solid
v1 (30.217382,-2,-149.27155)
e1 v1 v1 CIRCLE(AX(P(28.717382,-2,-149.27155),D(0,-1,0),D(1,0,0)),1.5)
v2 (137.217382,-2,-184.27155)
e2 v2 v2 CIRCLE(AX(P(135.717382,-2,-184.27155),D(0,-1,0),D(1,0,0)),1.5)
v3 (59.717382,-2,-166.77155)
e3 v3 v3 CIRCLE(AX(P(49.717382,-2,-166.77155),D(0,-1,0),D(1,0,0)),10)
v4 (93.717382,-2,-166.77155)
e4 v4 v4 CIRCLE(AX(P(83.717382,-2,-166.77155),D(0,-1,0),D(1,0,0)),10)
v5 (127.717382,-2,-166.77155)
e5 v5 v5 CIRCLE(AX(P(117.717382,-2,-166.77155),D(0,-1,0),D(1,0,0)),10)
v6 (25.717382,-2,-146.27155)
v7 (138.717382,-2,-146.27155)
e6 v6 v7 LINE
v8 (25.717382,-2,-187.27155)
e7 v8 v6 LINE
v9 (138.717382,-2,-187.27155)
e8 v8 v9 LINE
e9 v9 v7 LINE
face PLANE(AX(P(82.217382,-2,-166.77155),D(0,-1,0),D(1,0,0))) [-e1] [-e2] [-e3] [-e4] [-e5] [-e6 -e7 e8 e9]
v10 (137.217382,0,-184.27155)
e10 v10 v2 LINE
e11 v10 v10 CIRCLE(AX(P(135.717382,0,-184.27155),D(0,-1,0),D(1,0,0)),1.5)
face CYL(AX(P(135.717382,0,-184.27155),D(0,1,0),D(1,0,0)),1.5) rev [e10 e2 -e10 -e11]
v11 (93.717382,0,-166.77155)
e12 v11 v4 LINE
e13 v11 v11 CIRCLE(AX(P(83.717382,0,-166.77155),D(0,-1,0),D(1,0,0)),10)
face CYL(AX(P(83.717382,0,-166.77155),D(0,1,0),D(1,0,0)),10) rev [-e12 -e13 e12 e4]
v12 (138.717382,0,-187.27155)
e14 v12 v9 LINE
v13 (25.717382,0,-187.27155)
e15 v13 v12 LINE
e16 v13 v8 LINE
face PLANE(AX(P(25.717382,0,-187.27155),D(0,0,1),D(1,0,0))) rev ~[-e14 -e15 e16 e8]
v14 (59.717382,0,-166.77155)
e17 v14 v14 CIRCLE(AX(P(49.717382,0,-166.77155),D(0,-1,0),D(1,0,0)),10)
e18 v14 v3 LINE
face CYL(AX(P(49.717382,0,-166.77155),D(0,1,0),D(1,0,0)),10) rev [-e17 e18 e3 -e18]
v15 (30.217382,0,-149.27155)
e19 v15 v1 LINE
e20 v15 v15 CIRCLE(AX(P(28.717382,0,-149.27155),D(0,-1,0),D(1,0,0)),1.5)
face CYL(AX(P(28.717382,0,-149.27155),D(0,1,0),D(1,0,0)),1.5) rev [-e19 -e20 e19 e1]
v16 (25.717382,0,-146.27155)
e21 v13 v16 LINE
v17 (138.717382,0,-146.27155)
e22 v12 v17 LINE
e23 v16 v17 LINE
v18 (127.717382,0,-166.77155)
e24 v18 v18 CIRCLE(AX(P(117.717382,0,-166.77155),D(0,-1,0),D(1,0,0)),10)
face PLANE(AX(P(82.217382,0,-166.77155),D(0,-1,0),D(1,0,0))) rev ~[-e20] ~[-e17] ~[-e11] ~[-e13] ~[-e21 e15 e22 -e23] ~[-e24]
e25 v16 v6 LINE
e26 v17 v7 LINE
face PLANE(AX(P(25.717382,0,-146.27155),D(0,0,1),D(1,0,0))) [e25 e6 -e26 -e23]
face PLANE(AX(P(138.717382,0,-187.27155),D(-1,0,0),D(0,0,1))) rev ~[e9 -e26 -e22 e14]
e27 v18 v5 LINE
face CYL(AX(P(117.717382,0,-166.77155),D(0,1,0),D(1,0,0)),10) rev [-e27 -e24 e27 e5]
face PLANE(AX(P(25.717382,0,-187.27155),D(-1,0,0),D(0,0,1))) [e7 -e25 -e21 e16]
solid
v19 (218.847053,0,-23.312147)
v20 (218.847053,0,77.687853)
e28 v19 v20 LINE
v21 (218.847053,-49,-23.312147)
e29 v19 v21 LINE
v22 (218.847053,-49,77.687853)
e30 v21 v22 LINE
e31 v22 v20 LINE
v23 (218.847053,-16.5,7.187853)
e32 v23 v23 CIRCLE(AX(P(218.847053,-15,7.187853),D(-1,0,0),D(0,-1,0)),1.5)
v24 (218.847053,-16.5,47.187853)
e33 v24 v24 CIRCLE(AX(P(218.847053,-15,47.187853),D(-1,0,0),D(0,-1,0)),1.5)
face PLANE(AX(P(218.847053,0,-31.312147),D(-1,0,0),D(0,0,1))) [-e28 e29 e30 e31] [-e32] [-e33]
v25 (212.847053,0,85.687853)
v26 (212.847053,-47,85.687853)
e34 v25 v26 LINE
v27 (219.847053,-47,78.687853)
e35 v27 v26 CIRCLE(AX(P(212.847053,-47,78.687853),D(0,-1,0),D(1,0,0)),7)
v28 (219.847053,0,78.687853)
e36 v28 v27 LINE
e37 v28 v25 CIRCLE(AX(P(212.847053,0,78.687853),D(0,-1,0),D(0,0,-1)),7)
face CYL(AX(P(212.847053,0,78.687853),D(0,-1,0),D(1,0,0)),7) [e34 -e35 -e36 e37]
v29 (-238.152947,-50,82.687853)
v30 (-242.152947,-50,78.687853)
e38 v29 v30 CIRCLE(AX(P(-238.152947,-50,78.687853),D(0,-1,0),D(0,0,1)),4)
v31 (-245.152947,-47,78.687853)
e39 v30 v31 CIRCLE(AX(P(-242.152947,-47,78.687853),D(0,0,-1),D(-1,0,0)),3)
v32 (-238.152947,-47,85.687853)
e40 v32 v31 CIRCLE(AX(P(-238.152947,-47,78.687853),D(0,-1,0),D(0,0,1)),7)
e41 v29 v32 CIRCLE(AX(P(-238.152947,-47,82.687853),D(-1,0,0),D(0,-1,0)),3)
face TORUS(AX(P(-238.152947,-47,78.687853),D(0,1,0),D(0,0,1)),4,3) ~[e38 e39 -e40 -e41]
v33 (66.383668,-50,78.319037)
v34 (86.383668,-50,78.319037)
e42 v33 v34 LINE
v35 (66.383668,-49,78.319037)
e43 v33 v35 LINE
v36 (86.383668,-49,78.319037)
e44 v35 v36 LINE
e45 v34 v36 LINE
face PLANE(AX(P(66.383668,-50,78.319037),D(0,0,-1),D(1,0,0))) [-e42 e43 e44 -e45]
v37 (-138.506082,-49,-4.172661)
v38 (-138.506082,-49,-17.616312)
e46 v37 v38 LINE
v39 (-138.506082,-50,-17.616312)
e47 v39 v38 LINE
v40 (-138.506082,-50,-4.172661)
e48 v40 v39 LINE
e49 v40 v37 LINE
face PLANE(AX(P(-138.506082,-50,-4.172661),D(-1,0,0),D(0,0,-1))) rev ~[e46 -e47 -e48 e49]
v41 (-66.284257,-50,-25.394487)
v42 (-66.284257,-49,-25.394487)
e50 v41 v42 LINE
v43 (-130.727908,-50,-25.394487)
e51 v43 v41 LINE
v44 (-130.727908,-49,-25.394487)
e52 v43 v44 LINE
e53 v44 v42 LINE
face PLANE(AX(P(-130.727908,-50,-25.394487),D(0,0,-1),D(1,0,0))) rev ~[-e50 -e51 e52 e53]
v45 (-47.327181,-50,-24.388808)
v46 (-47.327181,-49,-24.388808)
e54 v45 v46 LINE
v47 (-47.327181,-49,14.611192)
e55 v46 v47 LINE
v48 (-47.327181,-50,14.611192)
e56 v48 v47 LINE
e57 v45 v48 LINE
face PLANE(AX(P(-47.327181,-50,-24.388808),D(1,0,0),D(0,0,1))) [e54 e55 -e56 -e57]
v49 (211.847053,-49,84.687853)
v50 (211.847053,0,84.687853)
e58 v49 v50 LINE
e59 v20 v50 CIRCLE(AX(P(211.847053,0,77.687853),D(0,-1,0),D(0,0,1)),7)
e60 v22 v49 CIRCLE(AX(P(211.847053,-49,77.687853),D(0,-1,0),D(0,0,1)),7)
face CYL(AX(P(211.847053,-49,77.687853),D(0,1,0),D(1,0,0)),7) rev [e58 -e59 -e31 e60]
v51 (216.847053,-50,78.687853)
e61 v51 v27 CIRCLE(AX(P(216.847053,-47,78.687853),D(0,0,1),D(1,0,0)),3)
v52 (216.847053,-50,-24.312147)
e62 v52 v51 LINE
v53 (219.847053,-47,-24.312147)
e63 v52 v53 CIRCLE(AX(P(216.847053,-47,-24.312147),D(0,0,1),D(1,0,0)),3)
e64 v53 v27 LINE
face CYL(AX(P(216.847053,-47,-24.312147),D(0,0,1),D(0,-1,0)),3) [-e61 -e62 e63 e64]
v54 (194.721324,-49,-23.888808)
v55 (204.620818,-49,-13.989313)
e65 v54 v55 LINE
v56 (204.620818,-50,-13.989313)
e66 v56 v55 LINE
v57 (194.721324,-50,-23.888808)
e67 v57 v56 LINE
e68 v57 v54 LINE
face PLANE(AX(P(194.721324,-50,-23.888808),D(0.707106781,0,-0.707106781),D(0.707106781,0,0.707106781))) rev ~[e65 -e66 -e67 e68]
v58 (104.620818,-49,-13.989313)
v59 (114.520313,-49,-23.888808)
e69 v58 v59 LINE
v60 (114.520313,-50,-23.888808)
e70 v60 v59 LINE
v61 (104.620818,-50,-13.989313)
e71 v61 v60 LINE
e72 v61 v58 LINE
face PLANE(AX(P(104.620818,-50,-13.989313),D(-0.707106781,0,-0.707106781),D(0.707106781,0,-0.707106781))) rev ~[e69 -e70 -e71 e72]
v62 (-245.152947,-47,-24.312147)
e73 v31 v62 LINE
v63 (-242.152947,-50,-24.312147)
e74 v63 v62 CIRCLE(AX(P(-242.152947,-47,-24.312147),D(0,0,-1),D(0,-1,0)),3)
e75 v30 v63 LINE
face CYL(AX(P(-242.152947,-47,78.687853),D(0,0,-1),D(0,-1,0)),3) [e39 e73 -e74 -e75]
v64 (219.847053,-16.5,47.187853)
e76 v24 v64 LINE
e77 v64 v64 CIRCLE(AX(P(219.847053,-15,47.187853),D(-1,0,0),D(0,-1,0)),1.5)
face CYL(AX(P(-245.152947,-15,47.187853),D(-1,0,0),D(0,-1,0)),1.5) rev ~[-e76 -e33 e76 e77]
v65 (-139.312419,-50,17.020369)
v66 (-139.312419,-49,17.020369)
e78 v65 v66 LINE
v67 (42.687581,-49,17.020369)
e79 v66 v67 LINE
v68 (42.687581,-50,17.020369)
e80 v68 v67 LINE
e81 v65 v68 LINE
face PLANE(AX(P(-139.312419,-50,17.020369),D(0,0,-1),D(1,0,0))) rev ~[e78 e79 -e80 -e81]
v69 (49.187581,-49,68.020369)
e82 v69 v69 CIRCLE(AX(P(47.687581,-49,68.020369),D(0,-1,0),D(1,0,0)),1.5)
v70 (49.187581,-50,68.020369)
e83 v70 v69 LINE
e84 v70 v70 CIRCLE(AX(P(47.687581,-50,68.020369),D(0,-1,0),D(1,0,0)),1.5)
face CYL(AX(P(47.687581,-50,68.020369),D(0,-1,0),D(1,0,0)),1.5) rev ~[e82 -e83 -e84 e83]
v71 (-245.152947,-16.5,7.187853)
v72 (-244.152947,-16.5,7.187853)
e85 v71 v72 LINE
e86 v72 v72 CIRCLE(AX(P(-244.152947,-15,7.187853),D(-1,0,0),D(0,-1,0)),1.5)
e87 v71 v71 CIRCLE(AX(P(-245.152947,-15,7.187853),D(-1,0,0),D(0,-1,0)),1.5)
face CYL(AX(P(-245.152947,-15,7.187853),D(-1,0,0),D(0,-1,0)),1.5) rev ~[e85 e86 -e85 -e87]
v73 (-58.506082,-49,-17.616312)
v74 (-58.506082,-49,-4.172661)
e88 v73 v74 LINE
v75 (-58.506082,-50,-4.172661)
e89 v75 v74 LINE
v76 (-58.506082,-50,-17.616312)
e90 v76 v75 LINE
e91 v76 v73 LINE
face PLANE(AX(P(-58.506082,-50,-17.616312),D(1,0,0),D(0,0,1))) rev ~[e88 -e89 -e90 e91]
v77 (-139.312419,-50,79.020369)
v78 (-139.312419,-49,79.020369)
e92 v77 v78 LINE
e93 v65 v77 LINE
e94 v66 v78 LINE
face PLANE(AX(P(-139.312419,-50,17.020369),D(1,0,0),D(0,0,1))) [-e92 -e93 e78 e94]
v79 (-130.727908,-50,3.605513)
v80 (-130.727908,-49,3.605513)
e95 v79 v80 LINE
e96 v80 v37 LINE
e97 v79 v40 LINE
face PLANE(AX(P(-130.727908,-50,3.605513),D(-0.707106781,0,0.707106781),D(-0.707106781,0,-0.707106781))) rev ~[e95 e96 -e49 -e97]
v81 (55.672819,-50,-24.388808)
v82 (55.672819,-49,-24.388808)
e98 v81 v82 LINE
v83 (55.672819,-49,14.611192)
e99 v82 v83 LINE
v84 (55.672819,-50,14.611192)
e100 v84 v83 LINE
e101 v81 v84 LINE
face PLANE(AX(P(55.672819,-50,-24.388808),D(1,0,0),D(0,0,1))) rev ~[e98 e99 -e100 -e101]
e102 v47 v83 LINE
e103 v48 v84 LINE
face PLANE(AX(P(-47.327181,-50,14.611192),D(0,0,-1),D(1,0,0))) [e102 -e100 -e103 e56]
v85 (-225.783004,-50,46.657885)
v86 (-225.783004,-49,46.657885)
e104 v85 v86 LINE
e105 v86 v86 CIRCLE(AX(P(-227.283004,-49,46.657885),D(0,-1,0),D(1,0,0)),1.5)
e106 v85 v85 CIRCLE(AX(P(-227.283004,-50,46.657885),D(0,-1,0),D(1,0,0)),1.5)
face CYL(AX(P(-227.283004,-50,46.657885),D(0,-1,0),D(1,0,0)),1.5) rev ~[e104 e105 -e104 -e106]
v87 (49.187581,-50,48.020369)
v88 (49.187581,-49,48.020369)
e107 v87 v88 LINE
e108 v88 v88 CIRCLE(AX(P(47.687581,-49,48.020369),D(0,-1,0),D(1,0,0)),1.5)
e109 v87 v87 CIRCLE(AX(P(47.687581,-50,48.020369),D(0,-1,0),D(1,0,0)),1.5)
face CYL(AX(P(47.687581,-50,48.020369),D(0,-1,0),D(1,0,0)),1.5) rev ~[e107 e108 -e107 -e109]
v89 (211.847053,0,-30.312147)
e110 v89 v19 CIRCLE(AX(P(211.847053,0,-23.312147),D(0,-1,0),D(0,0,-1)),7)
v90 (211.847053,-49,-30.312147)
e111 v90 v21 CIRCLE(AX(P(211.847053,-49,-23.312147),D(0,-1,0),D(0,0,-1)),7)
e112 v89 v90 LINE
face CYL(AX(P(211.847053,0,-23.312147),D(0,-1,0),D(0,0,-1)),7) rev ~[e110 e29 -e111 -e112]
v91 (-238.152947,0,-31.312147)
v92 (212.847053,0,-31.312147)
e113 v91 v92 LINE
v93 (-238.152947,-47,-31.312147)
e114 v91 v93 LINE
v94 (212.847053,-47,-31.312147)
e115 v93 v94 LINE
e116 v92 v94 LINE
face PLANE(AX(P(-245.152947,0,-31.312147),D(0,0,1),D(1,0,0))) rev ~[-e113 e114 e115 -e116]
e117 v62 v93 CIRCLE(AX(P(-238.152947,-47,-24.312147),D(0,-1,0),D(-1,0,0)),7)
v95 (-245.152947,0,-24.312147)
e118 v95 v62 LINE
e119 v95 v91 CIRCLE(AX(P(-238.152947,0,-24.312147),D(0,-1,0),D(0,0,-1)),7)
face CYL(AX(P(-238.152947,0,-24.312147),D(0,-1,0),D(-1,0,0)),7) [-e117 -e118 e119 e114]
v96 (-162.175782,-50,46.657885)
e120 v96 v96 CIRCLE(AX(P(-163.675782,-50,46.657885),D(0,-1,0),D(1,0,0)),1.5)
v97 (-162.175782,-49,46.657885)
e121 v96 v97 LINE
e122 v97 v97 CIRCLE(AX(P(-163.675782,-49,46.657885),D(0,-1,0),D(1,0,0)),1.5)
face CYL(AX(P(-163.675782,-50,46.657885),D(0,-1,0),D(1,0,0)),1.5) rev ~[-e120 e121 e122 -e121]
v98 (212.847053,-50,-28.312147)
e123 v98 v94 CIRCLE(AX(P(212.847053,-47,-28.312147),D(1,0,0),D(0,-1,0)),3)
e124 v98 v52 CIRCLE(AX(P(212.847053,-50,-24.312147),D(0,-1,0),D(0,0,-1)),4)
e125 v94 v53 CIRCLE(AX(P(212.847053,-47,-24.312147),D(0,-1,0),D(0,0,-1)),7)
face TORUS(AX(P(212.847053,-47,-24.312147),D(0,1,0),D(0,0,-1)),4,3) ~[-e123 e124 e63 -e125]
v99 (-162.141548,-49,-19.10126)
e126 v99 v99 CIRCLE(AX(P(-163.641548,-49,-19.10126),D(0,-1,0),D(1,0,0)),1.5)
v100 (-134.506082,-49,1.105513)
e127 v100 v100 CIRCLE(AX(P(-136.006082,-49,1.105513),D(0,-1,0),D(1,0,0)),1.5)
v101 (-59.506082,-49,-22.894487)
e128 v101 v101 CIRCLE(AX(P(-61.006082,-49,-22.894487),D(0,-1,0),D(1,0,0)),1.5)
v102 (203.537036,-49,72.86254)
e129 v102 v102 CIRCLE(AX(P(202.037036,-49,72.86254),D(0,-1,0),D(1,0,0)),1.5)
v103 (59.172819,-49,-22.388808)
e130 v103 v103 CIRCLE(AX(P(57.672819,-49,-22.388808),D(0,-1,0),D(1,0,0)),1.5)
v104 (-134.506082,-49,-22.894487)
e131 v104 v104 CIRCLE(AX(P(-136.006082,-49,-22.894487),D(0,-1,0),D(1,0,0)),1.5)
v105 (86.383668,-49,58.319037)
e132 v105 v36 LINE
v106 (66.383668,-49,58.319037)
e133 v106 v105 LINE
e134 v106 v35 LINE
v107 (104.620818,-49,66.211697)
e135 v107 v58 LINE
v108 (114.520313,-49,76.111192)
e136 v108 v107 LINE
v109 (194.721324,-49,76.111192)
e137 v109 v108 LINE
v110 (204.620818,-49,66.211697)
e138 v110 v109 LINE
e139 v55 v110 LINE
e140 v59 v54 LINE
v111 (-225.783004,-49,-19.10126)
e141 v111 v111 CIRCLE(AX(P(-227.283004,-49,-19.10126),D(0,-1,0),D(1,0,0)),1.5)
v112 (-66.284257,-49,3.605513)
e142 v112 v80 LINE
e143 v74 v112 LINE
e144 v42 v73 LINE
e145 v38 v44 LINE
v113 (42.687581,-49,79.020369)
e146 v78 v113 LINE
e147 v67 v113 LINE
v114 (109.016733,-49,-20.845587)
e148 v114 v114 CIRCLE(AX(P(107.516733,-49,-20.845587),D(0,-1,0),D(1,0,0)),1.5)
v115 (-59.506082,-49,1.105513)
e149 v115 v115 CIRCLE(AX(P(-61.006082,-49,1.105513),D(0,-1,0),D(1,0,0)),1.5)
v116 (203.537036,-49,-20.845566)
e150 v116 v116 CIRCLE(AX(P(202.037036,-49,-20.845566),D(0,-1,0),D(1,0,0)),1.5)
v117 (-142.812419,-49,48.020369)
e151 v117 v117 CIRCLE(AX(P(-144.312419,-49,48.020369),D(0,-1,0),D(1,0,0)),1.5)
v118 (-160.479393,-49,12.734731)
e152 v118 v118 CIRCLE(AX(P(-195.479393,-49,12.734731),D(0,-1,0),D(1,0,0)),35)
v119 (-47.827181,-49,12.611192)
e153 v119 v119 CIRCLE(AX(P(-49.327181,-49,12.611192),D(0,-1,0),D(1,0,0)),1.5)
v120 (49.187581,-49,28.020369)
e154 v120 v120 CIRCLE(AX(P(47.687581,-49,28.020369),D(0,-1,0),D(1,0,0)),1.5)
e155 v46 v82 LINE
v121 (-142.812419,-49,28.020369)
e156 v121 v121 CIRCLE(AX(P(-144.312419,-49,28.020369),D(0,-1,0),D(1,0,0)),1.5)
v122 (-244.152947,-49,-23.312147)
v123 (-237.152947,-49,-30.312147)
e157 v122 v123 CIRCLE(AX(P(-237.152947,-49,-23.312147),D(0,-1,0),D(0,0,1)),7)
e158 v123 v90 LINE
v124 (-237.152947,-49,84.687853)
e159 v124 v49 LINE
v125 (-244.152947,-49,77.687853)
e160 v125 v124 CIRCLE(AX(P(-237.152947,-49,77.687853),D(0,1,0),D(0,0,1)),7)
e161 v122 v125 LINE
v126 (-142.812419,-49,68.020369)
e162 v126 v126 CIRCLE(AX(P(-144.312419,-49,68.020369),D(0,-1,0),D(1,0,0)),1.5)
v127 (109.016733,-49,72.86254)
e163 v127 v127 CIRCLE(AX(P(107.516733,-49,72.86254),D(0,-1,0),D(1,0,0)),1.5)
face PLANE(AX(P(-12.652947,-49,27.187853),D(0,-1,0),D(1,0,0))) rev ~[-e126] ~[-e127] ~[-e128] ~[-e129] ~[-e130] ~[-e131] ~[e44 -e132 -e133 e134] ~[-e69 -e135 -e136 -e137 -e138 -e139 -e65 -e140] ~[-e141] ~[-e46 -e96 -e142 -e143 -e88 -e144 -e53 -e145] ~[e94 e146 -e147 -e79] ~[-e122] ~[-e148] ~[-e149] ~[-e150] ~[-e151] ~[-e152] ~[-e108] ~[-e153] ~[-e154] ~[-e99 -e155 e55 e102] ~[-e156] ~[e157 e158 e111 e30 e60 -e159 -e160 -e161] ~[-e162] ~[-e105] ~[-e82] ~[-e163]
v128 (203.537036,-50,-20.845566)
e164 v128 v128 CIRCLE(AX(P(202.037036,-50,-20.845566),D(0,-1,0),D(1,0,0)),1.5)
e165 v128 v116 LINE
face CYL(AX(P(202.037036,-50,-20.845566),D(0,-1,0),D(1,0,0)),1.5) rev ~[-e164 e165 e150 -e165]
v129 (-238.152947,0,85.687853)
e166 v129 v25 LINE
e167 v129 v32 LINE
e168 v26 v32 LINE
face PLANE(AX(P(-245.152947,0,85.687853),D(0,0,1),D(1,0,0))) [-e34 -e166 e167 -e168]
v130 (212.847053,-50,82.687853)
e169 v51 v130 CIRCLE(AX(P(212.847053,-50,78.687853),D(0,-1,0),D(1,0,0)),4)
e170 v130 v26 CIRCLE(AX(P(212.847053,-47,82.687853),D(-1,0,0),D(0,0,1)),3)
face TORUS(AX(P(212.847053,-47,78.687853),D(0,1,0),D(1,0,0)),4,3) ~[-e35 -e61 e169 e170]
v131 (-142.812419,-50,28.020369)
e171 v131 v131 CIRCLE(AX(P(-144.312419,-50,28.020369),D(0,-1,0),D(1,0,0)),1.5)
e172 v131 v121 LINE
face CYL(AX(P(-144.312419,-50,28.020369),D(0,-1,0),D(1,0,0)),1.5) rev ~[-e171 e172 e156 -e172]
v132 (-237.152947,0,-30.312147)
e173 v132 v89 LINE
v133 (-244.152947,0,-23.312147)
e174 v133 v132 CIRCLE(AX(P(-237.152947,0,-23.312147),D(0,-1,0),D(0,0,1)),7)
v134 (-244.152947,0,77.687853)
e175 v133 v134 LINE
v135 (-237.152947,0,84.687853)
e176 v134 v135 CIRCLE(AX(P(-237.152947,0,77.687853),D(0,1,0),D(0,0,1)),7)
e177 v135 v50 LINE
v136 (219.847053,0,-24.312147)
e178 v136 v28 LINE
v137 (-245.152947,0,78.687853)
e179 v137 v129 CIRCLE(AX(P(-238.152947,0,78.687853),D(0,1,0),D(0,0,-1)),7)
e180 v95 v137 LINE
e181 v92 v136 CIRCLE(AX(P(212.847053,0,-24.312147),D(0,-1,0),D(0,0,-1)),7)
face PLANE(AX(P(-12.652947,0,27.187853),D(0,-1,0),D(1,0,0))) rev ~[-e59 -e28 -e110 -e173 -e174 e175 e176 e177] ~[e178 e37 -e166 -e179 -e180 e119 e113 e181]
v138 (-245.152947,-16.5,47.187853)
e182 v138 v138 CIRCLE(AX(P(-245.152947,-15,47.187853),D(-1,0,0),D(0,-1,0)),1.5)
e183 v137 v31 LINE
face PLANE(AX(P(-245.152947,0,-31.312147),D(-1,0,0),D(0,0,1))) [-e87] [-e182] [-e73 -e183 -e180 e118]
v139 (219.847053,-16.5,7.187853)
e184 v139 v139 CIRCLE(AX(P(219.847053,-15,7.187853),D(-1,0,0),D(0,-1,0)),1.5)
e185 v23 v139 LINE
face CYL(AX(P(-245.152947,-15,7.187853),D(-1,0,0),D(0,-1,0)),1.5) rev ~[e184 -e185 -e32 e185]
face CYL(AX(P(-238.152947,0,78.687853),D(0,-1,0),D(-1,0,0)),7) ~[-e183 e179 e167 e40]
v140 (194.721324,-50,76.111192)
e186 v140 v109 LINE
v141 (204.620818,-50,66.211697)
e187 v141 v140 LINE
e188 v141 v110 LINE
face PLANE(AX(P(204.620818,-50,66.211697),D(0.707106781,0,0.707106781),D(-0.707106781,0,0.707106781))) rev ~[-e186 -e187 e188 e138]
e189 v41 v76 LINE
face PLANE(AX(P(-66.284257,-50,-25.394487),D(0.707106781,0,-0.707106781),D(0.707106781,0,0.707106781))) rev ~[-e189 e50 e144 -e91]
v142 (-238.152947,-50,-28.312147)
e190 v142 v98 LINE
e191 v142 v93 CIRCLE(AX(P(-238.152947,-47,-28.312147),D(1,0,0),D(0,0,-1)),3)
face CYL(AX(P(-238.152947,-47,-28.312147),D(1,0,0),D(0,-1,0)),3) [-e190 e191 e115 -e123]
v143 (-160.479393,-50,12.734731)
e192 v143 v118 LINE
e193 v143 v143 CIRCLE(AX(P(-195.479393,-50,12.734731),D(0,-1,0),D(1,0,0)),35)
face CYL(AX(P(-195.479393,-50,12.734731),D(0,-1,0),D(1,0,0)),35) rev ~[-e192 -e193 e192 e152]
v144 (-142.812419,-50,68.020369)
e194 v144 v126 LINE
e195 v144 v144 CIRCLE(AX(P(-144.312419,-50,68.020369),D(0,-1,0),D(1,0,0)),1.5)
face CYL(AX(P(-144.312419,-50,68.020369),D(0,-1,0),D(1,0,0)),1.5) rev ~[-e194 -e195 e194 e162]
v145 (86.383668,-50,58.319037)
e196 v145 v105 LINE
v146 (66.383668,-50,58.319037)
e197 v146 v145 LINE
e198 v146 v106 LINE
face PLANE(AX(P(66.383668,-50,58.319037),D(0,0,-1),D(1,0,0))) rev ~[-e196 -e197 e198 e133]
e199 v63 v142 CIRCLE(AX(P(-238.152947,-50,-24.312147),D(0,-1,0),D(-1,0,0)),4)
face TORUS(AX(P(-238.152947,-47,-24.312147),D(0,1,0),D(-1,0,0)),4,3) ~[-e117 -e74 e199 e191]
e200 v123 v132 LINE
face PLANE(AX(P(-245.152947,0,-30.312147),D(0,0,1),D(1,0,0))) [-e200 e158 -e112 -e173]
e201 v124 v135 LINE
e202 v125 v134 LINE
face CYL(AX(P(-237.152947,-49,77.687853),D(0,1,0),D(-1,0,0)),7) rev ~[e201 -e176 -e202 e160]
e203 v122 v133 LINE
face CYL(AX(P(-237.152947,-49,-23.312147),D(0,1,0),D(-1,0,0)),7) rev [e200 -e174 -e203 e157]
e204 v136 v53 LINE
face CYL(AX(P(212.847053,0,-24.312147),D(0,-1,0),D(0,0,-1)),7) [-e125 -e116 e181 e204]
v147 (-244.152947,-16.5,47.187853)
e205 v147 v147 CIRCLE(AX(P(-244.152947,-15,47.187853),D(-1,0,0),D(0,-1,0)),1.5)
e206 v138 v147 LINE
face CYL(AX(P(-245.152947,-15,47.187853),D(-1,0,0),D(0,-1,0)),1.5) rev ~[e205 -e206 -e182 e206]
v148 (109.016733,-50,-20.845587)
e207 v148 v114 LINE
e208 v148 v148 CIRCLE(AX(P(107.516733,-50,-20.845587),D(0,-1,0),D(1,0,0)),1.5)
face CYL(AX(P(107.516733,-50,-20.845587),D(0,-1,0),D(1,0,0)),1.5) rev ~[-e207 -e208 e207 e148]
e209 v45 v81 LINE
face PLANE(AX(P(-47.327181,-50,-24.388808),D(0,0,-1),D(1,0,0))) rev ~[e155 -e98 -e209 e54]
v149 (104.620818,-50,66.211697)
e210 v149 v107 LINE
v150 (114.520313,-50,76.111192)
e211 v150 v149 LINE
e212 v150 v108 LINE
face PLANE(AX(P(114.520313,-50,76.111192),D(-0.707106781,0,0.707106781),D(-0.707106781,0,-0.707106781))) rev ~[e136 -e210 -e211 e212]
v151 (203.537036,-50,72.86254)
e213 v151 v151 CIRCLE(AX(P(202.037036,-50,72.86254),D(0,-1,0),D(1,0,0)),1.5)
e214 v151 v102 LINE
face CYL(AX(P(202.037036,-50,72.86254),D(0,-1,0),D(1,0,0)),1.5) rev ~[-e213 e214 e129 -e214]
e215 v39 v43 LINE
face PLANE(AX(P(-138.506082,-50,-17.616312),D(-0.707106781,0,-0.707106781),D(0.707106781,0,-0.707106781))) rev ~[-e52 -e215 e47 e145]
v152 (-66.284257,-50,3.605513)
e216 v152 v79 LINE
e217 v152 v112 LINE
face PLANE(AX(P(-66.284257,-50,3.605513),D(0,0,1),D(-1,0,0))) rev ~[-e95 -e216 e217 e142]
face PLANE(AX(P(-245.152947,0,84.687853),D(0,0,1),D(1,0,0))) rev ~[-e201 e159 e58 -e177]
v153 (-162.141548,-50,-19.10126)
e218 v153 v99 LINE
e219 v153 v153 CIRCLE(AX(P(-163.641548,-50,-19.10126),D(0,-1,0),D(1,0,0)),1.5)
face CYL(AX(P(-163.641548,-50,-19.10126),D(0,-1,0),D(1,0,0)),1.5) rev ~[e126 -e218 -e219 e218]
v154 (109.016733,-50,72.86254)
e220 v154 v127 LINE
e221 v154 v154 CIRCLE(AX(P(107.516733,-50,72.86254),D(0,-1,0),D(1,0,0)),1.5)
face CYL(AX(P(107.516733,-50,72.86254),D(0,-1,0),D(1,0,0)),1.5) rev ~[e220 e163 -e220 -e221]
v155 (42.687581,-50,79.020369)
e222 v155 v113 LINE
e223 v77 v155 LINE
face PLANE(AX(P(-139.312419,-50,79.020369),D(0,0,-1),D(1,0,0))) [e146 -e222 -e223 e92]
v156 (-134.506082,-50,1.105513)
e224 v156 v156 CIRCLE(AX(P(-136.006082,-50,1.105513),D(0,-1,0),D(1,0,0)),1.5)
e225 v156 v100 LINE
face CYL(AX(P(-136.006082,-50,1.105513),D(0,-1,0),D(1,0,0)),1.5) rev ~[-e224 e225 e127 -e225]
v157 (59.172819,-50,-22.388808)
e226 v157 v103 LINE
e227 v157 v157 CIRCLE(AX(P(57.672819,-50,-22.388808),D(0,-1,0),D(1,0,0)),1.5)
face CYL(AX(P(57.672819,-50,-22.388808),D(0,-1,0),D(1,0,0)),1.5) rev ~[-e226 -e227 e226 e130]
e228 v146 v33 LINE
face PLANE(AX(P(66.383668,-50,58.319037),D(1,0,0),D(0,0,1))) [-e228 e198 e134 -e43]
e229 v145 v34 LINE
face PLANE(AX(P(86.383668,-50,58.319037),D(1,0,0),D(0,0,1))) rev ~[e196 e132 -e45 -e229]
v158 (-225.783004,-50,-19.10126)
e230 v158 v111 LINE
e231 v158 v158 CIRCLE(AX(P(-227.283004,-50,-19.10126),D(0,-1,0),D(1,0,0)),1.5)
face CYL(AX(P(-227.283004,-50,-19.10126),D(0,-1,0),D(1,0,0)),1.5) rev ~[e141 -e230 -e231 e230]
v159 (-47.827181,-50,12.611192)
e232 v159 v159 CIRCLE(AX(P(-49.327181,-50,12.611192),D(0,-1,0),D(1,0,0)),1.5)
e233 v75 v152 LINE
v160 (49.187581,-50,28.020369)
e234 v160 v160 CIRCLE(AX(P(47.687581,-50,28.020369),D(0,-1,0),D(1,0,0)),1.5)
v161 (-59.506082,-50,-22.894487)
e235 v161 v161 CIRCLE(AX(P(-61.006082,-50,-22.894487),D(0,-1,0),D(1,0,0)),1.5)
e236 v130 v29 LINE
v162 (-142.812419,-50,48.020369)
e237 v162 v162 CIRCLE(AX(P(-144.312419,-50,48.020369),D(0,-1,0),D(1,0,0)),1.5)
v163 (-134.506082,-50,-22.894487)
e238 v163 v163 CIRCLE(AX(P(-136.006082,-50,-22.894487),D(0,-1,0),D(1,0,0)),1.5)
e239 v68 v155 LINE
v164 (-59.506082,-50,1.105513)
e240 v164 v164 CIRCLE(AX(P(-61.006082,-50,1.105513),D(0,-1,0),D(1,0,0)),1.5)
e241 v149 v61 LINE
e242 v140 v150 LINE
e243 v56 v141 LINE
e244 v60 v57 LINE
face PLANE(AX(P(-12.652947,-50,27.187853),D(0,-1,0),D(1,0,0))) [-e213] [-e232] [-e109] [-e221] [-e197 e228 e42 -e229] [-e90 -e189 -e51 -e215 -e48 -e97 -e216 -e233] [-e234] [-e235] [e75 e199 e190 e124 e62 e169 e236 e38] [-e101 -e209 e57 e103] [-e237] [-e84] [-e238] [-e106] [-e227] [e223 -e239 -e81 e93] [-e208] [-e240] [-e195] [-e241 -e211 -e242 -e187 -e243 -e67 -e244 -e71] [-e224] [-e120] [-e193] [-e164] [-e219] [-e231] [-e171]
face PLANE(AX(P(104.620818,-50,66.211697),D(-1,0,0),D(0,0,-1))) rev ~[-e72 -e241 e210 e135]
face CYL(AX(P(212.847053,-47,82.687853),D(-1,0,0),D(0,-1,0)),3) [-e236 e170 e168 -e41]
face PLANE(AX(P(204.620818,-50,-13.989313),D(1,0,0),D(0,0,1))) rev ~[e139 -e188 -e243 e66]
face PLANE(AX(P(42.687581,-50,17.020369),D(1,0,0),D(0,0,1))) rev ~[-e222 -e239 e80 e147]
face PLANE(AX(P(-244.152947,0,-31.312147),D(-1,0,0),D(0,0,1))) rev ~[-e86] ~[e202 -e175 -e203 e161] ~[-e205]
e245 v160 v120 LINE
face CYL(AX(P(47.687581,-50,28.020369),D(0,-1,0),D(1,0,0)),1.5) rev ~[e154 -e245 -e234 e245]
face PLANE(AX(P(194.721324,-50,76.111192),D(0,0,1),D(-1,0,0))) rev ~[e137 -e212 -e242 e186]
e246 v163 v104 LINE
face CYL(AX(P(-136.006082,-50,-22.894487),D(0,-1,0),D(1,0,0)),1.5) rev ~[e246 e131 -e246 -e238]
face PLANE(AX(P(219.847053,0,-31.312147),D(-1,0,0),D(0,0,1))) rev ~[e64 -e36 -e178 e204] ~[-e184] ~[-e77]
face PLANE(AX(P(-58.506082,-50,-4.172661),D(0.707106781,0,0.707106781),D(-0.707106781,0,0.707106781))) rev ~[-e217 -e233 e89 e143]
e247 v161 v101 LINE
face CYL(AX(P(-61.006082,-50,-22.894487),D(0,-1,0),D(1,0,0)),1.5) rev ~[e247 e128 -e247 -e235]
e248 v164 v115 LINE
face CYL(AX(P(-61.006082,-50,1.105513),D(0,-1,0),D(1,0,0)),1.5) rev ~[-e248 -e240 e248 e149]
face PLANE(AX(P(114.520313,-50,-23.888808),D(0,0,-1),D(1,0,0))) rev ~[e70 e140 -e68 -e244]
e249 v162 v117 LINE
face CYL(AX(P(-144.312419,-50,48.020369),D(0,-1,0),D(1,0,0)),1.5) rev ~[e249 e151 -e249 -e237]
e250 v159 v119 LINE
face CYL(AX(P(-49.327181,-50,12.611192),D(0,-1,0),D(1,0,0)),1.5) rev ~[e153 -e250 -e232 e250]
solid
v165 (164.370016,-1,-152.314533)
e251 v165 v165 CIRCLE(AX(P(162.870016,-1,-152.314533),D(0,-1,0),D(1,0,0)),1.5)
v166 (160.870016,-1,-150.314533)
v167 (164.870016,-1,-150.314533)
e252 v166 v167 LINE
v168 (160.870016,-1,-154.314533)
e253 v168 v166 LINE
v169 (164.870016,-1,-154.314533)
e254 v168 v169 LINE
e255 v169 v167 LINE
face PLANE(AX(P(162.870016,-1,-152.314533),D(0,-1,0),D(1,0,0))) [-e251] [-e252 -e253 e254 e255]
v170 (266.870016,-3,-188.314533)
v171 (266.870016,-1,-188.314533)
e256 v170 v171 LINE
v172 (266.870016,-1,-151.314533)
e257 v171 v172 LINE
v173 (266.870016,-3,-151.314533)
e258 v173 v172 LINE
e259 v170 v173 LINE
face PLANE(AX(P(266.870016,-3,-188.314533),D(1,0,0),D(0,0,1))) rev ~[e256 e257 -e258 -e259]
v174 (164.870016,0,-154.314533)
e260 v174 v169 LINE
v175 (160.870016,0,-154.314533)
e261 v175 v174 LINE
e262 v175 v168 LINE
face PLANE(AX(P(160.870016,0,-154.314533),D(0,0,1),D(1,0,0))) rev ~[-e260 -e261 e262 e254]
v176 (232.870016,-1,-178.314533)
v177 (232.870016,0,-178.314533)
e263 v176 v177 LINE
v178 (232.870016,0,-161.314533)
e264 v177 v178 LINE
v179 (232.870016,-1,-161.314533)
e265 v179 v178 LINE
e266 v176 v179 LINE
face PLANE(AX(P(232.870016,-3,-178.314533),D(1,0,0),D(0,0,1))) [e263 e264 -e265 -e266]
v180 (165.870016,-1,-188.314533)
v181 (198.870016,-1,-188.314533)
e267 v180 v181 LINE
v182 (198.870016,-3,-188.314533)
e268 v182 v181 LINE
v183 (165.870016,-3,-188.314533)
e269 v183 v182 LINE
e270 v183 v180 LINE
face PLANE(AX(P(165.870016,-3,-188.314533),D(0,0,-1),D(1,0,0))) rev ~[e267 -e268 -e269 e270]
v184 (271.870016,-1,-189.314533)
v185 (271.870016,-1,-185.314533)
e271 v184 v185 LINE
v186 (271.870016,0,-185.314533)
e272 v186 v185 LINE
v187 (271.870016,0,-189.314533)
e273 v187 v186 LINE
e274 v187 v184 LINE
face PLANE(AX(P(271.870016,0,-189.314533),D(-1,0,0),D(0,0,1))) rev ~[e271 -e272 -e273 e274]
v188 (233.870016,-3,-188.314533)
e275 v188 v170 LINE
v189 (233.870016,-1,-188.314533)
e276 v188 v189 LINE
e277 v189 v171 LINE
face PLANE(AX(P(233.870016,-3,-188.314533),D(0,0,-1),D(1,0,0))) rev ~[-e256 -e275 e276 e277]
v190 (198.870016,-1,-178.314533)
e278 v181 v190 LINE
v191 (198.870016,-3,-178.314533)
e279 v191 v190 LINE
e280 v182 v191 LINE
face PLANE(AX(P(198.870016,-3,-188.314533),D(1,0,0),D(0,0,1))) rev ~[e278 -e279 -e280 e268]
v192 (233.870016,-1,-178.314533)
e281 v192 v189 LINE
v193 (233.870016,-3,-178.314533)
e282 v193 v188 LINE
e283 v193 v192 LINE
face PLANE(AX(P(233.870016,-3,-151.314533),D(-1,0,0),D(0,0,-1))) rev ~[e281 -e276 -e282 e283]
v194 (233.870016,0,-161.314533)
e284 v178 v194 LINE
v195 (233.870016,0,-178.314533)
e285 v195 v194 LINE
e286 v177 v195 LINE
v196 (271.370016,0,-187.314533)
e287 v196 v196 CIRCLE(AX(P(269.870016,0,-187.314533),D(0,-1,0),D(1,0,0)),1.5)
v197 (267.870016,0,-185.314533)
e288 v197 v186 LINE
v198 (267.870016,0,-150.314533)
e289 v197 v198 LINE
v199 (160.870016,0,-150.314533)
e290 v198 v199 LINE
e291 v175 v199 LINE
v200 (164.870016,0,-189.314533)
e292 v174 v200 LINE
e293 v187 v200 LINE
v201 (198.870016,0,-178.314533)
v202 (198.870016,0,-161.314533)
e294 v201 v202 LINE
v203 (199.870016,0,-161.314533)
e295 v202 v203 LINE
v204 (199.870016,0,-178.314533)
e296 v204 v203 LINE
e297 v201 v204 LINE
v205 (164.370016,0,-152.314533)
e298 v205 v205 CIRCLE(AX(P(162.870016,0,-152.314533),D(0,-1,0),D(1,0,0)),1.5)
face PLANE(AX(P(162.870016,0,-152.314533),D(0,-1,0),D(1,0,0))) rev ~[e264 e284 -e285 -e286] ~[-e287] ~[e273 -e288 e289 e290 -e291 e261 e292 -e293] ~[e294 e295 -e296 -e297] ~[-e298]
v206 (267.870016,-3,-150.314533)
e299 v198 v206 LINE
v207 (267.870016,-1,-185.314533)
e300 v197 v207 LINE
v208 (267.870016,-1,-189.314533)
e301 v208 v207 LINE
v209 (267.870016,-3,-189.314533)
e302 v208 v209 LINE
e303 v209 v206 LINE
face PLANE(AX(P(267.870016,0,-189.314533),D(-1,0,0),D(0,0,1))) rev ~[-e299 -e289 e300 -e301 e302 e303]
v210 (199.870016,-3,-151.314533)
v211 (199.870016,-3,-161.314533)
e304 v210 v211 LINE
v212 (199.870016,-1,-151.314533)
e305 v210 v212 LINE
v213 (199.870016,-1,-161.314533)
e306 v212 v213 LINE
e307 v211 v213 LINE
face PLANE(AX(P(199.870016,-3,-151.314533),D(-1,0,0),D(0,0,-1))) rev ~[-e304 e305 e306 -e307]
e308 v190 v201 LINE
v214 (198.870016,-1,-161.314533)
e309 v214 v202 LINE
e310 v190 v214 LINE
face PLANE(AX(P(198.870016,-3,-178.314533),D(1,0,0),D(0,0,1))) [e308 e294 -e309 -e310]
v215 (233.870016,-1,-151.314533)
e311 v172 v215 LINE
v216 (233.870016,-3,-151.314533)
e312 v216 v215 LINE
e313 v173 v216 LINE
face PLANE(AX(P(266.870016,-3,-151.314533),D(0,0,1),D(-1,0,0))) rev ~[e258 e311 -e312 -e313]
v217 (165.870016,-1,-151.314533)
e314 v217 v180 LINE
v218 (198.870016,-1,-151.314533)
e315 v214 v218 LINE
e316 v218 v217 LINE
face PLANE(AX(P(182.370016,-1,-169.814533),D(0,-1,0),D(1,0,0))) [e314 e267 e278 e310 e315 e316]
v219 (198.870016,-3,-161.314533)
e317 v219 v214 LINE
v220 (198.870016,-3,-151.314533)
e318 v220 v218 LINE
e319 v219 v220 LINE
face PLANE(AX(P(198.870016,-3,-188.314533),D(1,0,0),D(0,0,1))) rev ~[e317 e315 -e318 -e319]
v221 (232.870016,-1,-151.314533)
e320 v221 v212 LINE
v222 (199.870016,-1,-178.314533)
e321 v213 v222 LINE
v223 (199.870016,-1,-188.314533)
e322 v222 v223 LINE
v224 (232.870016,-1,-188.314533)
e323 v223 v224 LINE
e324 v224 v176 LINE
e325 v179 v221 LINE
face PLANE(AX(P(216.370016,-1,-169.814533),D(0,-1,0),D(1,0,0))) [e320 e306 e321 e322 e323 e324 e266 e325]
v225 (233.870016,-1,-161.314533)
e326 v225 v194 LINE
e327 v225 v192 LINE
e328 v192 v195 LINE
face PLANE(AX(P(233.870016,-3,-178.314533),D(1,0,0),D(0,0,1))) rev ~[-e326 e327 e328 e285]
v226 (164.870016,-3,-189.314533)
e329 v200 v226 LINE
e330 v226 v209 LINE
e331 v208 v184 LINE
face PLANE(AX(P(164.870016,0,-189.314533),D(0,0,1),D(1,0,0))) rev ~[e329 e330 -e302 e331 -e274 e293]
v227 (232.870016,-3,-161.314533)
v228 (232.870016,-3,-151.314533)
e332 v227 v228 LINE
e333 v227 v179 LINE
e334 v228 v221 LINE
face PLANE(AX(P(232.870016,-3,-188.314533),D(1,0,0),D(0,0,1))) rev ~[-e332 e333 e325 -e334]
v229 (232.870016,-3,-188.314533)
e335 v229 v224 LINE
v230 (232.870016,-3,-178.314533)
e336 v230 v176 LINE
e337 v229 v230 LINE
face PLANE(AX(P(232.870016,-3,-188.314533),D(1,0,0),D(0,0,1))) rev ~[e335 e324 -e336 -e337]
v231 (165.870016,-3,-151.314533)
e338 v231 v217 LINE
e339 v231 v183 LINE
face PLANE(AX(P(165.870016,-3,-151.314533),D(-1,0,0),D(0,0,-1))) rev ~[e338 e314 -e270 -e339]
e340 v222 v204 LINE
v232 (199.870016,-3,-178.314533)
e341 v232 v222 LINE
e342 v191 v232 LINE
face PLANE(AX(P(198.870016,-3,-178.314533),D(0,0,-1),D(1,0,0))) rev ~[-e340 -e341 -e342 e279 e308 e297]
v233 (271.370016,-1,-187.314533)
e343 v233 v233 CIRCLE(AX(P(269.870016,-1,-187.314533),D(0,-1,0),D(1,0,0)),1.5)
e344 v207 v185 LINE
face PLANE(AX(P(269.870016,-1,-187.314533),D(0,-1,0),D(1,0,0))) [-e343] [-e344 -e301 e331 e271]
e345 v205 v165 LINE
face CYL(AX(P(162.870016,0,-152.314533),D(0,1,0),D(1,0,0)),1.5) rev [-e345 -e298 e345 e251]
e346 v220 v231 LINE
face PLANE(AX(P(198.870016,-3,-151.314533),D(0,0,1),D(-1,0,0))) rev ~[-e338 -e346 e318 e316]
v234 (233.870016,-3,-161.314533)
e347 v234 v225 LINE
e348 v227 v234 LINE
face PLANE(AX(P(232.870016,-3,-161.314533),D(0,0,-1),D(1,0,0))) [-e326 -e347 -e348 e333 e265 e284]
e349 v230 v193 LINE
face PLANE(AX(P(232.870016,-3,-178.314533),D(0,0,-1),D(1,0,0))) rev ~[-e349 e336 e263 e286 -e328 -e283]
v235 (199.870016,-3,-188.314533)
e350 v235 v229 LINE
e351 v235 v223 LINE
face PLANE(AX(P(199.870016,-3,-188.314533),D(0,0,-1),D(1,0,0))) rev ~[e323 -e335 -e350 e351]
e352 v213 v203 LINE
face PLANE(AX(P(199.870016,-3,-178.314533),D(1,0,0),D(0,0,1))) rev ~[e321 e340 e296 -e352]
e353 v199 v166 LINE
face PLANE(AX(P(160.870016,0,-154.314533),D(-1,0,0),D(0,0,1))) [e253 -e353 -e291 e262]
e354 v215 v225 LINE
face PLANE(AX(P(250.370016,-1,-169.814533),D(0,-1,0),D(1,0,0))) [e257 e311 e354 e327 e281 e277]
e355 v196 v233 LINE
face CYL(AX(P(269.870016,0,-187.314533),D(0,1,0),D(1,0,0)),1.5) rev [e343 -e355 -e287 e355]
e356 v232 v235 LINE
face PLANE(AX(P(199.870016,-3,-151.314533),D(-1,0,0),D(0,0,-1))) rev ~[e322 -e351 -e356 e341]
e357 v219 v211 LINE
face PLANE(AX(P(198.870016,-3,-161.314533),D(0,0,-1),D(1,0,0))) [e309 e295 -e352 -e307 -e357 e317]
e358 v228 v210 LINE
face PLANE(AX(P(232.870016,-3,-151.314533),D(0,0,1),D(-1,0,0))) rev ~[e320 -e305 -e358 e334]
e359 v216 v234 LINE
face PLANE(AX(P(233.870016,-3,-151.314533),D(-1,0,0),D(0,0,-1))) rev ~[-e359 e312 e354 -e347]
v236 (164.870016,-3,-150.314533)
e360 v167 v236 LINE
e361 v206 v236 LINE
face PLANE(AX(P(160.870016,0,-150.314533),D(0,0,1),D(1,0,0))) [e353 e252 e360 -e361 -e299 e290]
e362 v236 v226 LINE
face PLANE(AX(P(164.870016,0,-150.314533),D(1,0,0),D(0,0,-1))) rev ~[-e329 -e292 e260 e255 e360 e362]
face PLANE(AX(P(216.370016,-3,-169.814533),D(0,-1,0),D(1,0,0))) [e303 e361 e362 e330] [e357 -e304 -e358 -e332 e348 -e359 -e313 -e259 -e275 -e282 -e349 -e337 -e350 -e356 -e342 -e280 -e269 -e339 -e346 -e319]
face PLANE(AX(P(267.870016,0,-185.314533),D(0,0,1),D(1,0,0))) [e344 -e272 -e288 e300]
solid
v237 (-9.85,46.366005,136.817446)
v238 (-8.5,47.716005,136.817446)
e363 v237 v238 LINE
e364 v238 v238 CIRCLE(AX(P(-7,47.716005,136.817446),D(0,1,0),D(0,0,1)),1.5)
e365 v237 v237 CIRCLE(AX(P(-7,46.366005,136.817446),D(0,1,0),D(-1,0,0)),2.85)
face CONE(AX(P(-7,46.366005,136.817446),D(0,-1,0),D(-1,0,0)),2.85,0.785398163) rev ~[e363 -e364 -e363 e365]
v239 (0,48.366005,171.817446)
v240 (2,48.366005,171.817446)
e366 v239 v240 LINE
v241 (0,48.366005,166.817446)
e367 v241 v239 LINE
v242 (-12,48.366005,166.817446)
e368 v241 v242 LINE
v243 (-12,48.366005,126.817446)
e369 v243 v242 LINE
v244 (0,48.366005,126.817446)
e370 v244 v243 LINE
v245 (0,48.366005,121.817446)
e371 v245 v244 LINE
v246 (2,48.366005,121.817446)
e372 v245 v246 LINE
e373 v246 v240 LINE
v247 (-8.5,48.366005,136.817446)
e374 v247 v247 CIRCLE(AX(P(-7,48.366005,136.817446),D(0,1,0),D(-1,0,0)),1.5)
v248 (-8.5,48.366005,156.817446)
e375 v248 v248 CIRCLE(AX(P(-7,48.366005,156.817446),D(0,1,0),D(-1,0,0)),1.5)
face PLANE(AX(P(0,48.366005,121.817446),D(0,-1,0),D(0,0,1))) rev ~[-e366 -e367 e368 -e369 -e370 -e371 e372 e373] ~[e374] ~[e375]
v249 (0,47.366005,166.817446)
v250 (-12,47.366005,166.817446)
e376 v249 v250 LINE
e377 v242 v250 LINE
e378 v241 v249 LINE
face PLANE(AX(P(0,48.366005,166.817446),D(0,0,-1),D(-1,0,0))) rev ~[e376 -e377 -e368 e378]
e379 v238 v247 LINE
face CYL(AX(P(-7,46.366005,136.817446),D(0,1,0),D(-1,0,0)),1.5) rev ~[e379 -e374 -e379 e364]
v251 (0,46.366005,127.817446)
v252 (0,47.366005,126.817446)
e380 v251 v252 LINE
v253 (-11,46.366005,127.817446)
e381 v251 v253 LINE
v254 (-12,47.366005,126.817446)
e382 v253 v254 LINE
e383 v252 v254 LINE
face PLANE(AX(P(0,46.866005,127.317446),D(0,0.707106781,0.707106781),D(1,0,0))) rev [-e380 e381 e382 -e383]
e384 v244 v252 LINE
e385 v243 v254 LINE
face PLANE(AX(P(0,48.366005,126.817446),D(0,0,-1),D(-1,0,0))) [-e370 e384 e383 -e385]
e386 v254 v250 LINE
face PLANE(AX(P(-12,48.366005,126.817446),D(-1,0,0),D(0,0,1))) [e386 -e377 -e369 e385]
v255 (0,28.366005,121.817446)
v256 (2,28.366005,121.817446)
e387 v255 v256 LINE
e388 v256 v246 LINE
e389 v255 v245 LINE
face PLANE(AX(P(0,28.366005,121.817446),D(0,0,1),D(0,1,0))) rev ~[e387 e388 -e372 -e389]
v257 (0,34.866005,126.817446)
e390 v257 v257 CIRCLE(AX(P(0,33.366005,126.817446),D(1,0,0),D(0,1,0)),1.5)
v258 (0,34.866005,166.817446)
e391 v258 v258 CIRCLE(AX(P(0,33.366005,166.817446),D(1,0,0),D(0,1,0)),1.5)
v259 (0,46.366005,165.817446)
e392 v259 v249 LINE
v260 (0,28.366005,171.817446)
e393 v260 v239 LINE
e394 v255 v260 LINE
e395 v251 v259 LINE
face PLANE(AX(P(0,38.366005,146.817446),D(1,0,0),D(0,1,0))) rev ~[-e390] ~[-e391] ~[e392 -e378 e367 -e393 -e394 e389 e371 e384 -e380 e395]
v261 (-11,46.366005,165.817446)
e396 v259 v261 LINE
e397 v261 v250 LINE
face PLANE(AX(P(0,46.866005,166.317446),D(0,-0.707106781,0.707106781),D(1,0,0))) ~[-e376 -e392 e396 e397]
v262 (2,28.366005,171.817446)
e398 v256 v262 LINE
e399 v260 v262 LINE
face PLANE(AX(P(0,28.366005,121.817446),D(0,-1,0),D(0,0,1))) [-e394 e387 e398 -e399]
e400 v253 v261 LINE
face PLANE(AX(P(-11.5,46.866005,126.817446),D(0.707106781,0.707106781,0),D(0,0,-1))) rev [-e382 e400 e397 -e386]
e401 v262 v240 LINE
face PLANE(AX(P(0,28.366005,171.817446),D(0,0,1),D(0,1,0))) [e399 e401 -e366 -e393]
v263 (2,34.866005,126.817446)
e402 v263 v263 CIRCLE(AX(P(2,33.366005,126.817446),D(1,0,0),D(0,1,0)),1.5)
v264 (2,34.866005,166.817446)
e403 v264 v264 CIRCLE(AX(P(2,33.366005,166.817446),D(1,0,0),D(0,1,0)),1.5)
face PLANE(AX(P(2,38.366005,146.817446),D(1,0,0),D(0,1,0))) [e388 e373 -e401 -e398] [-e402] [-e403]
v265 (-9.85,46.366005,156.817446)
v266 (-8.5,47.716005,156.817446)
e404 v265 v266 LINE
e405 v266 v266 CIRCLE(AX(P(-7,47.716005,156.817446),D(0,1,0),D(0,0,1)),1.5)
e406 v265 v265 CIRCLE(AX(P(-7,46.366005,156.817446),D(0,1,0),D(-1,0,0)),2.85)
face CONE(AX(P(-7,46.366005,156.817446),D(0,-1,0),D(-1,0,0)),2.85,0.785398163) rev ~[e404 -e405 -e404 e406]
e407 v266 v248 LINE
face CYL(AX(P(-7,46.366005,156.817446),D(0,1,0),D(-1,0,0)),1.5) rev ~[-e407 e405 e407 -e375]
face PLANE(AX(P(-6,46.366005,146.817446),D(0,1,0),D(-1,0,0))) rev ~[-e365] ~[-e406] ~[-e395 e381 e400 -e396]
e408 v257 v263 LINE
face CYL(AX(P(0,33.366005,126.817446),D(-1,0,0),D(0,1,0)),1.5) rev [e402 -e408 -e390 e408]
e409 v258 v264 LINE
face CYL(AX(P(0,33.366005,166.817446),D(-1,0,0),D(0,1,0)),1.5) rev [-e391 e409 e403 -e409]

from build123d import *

# Parameters (mm, degrees)
F0_W            = 465
F0_H            = 117
F1_DEPTH        = 50
F2_T            = -1
F4_R            = 7
F3_W            = 182
F3_H            = 62
F3_W_2          = 20
F3_H_2          = 20
F3_R            = 1.5
F3_W_3          = 93
F3_H_3          = 36
F3_R_2          = 9.5
F3_R_3          = 35
F3_W_4          = 103
F3_H_4          = 39
F5_DEPTH        = 25
F6_R            = 3
F8_R            = 1.5
F9_DEPTH        = 500
F10_W           = 20
F10_H           = 50
F10_R           = 1.5
F11_DEPTH       = 2
F12_W           = 12
F12_H           = 40
F13_DEPTH       = 2
F15_D           = 3
F15_CSINK_D     = 5.7
F15_CSINK_ANGLE = 90
F16_SIZE        = 1
F17_W           = 113
F17_H           = 41
F17_R           = 1.5
F17_R_2         = 10
F18_DEPTH       = 2
F20_DEPTH       = 3
F19_W           = 4
F19_H           = 4
F19_R           = 1.5
F21_DEPTH       = 1
F23_DEPTH       = 2
F22_W           = 1
F22_H           = 17
F24_DEPTH       = 3


with BuildPart() as f1:
    # F0 (on Front) → F1 (new body)
    with BuildSketch(Plane.XZ):
        with Locations((-12.6529467106, 27.1878533959)):
            Rectangle(F0_W, F0_H)
    extrude(amount=F1_DEPTH)

    # F2
    f2_openings = [f1.faces().sort_by_distance(p)[0] for p in [
        (-12.652947, 0, 27.187853),
    ]]
    offset(amount=F2_T, openings=f2_openings)

    # F4
    f4_edges = [f1.edges().sort_by_distance(p)[0] for p in [
        (-245.152947, -25, 85.687853),
        (219.847053, -25, 85.687853),
        (219.847053, -25, -31.312147),
        (-245.152947, -25, -31.312147),
        (-244.152947, -24.5, 84.687853),
        (-244.152947, -24.5, -30.312147),
        (218.847053, -24.5, -30.312147),
        (218.847053, -24.5, 84.687853),
    ]]
    fillet(f4_edges, radius=F4_R)

    # F3 (on face) → F5 (cut)
    with BuildSketch(Plane.XZ.offset(50)):
        with Locations((-48.312419115, 48.0203691069)):
            Rectangle(F3_W, F3_H)
        with Locations((76.3836680665, 68.3190373614)):
            Rectangle(F3_W_2, F3_H_2)
        Polygon((194.7213235501, 76.111191912), (114.5203134233, 76.111191912), (104.6208184867, 66.2116969754), (104.6208184867, -13.9893131514), (114.5203134233, -23.888808088), (194.7213235501, -23.888808088), (204.6208184867, -13.9893131514), (204.6208184867, 66.2116969754), align=None)
        with Locations((47.687580885, 68.0203691069)):
            Circle(F3_R)
        with Locations((47.687580885, 48.0203691069)):
            Circle(F3_R)
        with Locations((47.687580885, 28.0203691069)):
            Circle(F3_R)
        with Locations((107.5167332374, 72.8625404379)):
            Circle(F3_R)
        with Locations((80.878779198, -82.3583360478)):
            Rectangle(F3_W_3, F3_H_3)
        with Locations((51.3206828289, -84.0745766136)):
            Circle(F3_R_2, mode=Mode.SUBTRACT)
        with Locations((81.3476530956, -84.0745766136)):
            Circle(F3_R_2, mode=Mode.SUBTRACT)
        with Locations((38.378779198, -68.3583360478)):
            Circle(F3_R, mode=Mode.SUBTRACT)
        with Locations((123.378779198, -96.3583360478)):
            Circle(F3_R, mode=Mode.SUBTRACT)
        with Locations((110.7360261029, -84.0745766136)):
            Circle(F3_R_2, mode=Mode.SUBTRACT)
        Polygon((-66.2842570873, 3.6055132091), (-130.7279079012, 3.6055132091), (-138.5060824942, -4.172661384), (-138.5060824942, -17.6163121979), (-130.7279079012, -25.3944867909), (-66.2842570873, -25.3944867909), (-58.5060824942, -17.6163121979), (-58.5060824942, -4.172661384), align=None)
        with Locations((-136.0060824942, 1.1055132091)):
            Circle(F3_R)
        with Locations((-136.0060824942, -22.8944867909)):
            Circle(F3_R)
        with Locations((-61.0060824942, 1.1055132091)):
            Circle(F3_R)
        with Locations((-61.0060824942, -22.8944867909)):
            Circle(F3_R)
        with Locations((107.5167332374, -20.8455865502)):
            Circle(F3_R)
        with Locations((202.0370356229, -20.8455660029)):
            Circle(F3_R)
        with Locations((202.0370356229, 72.8625404379)):
            Circle(F3_R)
        with Locations((-195.4793932134, 12.7347313118)):
            Circle(F3_R_3)
        with Locations((-144.312419115, 68.0203691069)):
            Circle(F3_R)
        with Locations((-144.312419115, 48.0203691069)):
            Circle(F3_R)
        with Locations((-144.312419115, 28.0203691069)):
            Circle(F3_R)
        with Locations((-227.2830040105, 46.6578847659)):
            Circle(F3_R)
        with Locations((-227.2830040105, -19.1012599602)):
            Circle(F3_R)
        with Locations((-163.6415483004, -19.1012599602)):
            Circle(F3_R)
        with Locations((-163.6757824164, 46.6578847659)):
            Circle(F3_R)
        with Locations((-49.3271809206, 12.611191912)):
            Circle(F3_R)
        with Locations((57.6728190794, -22.388808088)):
            Circle(F3_R)
        with Locations((4.1728190794, -4.888808088)):
            Rectangle(F3_W_4, F3_H_4)
    extrude(amount=-F5_DEPTH, mode=Mode.SUBTRACT)

    # F6
    f6_edges = [f1.edges().sort_by_distance(p)[0] for p in [
        (217.796801, -50, 83.637601),
    ]]
    fillet(f6_edges, radius=F6_R)

    # F8 (on face) → F9 (cut)
    with BuildSketch(Plane(origin=(-245.1529467106, 0, 0), x_dir=(0, -1, 0), z_dir=(-1, 0, 0))):
        with Locations((15, 47.1878533959)):
            Circle(F8_R)
        with Locations((15, 7.1878533959)):
            Circle(F8_R)
    extrude(amount=-F9_DEPTH, mode=Mode.SUBTRACT)


with BuildPart() as f11:
    # F10 (on Right) → F11 (new body)
    with BuildSketch(Plane.YZ):
        with Locations((38.3660052121, 146.8174463511)):
            Rectangle(F10_W, F10_H)
        with Locations((33.3660052121, 126.8174463511)):
            Circle(F10_R, mode=Mode.SUBTRACT)
        with Locations((33.3660052121, 166.8174463511)):
            Circle(F10_R, mode=Mode.SUBTRACT)
    extrude(amount=F11_DEPTH)

    # F12 (on face) → F13 (join)
    with BuildSketch(Plane(origin=(0, 48.3660052121, 0), x_dir=(-1, 0, 0), z_dir=(0, 1, 0))):
        with Locations((6, 146.8174463511)):
            Rectangle(F12_W, F12_H)
    extrude(amount=-F13_DEPTH)

    # F15 (through all)
    with Locations(Plane.XZ.offset(-46.3660052121)):
        with Locations((-7, 156.8174463511), (-7, 136.8174463511)):
            CounterSinkHole(F15_D / 2, F15_CSINK_D / 2, counter_sink_angle=F15_CSINK_ANGLE)

    # F16
    f16_edges = [f11.edges().sort_by_distance(p)[0] for p in [
        (-6, 46.366005, 166.817446),
        (-12, 46.366005, 146.817446),
        (-6, 46.366005, 126.817446),
    ]]
    chamfer(f16_edges, length=F16_SIZE)


with BuildPart() as f18:
    # F17 (on Front) → F18 (new body)
    with BuildSketch(Plane.XZ):
        with Locations((82.2173821926, -166.7715502977)):
            Rectangle(F17_W, F17_H)
        with Locations((135.7173821926, -184.2715502977)):
            Circle(F17_R, mode=Mode.SUBTRACT)
        with Locations((49.7173821926, -166.7715502977)):
            Circle(F17_R_2, mode=Mode.SUBTRACT)
        with Locations((28.7173821926, -149.2715502977)):
            Circle(F17_R, mode=Mode.SUBTRACT)
        with Locations((83.7173821926, -166.7715502977)):
            Circle(F17_R_2, mode=Mode.SUBTRACT)
        with Locations((117.7173821926, -166.7715502977)):
            Circle(F17_R_2, mode=Mode.SUBTRACT)
    extrude(amount=F18_DEPTH)


with BuildPart() as f20:
    # F19 (on Front) → F20 (new body)
    with BuildSketch(Plane.XZ):
        Polygon((267.8700156212, -150.314532876), (164.8700156212, -150.314532876), (164.8700156212, -154.314532876), (164.8700156212, -189.314532876), (267.8700156212, -189.314532876), (267.8700156212, -185.314532876), align=None)
    extrude(amount=F20_DEPTH)

    # F19 (on Front) → F21 (join)
    with BuildSketch(Plane.XZ):
        with Locations((162.8700156212, -152.314532876)):
            Rectangle(F19_W, F19_H)
        with Locations((162.8700156212, -152.314532876)):
            Circle(F19_R, mode=Mode.SUBTRACT)
        with Locations((269.8700156212, -187.314532876)):
            Rectangle(F19_W, F19_H)
        with Locations((269.8700156212, -187.314532876)):
            Circle(F19_R, mode=Mode.SUBTRACT)
    extrude(amount=F21_DEPTH)

    # F22 (on face) → F23 (cut)
    with BuildSketch(Plane.XZ.offset(3)):
        Polygon((198.8700156212, -151.314532876), (165.8700156212, -151.314532876), (165.8700156212, -188.314532876), (198.8700156212, -188.314532876), (198.8700156212, -178.314532876), (198.8700156212, -161.314532876), align=None)
        Polygon((199.8700156212, -151.314532876), (199.8700156212, -161.314532876), (199.8700156212, -178.314532876), (199.8700156212, -188.314532876), (232.8700156212, -188.314532876), (232.8700156212, -178.314532876), (232.8700156212, -161.314532876), (232.8700156212, -151.314532876), align=None)
        Polygon((233.8700156212, -151.314532876), (233.8700156212, -161.314532876), (233.8700156212, -178.314532876), (233.8700156212, -188.314532876), (266.8700156212, -188.314532876), (266.8700156212, -151.314532876), align=None)
    extrude(amount=-F23_DEPTH, mode=Mode.SUBTRACT)

    # F22 (on face) → F24 (cut)
    with BuildSketch(Plane.XZ.offset(3)):
        with Locations((199.3700156212, -169.814532876)):
            Rectangle(F22_W, F22_H)
        with Locations((233.3700156212, -169.814532876)):
            Rectangle(F22_W, F22_H)
    extrude(amount=-F24_DEPTH, mode=Mode.SUBTRACT)


solid = Compound([f1.part, f11.part, f18.part, f20.part])
